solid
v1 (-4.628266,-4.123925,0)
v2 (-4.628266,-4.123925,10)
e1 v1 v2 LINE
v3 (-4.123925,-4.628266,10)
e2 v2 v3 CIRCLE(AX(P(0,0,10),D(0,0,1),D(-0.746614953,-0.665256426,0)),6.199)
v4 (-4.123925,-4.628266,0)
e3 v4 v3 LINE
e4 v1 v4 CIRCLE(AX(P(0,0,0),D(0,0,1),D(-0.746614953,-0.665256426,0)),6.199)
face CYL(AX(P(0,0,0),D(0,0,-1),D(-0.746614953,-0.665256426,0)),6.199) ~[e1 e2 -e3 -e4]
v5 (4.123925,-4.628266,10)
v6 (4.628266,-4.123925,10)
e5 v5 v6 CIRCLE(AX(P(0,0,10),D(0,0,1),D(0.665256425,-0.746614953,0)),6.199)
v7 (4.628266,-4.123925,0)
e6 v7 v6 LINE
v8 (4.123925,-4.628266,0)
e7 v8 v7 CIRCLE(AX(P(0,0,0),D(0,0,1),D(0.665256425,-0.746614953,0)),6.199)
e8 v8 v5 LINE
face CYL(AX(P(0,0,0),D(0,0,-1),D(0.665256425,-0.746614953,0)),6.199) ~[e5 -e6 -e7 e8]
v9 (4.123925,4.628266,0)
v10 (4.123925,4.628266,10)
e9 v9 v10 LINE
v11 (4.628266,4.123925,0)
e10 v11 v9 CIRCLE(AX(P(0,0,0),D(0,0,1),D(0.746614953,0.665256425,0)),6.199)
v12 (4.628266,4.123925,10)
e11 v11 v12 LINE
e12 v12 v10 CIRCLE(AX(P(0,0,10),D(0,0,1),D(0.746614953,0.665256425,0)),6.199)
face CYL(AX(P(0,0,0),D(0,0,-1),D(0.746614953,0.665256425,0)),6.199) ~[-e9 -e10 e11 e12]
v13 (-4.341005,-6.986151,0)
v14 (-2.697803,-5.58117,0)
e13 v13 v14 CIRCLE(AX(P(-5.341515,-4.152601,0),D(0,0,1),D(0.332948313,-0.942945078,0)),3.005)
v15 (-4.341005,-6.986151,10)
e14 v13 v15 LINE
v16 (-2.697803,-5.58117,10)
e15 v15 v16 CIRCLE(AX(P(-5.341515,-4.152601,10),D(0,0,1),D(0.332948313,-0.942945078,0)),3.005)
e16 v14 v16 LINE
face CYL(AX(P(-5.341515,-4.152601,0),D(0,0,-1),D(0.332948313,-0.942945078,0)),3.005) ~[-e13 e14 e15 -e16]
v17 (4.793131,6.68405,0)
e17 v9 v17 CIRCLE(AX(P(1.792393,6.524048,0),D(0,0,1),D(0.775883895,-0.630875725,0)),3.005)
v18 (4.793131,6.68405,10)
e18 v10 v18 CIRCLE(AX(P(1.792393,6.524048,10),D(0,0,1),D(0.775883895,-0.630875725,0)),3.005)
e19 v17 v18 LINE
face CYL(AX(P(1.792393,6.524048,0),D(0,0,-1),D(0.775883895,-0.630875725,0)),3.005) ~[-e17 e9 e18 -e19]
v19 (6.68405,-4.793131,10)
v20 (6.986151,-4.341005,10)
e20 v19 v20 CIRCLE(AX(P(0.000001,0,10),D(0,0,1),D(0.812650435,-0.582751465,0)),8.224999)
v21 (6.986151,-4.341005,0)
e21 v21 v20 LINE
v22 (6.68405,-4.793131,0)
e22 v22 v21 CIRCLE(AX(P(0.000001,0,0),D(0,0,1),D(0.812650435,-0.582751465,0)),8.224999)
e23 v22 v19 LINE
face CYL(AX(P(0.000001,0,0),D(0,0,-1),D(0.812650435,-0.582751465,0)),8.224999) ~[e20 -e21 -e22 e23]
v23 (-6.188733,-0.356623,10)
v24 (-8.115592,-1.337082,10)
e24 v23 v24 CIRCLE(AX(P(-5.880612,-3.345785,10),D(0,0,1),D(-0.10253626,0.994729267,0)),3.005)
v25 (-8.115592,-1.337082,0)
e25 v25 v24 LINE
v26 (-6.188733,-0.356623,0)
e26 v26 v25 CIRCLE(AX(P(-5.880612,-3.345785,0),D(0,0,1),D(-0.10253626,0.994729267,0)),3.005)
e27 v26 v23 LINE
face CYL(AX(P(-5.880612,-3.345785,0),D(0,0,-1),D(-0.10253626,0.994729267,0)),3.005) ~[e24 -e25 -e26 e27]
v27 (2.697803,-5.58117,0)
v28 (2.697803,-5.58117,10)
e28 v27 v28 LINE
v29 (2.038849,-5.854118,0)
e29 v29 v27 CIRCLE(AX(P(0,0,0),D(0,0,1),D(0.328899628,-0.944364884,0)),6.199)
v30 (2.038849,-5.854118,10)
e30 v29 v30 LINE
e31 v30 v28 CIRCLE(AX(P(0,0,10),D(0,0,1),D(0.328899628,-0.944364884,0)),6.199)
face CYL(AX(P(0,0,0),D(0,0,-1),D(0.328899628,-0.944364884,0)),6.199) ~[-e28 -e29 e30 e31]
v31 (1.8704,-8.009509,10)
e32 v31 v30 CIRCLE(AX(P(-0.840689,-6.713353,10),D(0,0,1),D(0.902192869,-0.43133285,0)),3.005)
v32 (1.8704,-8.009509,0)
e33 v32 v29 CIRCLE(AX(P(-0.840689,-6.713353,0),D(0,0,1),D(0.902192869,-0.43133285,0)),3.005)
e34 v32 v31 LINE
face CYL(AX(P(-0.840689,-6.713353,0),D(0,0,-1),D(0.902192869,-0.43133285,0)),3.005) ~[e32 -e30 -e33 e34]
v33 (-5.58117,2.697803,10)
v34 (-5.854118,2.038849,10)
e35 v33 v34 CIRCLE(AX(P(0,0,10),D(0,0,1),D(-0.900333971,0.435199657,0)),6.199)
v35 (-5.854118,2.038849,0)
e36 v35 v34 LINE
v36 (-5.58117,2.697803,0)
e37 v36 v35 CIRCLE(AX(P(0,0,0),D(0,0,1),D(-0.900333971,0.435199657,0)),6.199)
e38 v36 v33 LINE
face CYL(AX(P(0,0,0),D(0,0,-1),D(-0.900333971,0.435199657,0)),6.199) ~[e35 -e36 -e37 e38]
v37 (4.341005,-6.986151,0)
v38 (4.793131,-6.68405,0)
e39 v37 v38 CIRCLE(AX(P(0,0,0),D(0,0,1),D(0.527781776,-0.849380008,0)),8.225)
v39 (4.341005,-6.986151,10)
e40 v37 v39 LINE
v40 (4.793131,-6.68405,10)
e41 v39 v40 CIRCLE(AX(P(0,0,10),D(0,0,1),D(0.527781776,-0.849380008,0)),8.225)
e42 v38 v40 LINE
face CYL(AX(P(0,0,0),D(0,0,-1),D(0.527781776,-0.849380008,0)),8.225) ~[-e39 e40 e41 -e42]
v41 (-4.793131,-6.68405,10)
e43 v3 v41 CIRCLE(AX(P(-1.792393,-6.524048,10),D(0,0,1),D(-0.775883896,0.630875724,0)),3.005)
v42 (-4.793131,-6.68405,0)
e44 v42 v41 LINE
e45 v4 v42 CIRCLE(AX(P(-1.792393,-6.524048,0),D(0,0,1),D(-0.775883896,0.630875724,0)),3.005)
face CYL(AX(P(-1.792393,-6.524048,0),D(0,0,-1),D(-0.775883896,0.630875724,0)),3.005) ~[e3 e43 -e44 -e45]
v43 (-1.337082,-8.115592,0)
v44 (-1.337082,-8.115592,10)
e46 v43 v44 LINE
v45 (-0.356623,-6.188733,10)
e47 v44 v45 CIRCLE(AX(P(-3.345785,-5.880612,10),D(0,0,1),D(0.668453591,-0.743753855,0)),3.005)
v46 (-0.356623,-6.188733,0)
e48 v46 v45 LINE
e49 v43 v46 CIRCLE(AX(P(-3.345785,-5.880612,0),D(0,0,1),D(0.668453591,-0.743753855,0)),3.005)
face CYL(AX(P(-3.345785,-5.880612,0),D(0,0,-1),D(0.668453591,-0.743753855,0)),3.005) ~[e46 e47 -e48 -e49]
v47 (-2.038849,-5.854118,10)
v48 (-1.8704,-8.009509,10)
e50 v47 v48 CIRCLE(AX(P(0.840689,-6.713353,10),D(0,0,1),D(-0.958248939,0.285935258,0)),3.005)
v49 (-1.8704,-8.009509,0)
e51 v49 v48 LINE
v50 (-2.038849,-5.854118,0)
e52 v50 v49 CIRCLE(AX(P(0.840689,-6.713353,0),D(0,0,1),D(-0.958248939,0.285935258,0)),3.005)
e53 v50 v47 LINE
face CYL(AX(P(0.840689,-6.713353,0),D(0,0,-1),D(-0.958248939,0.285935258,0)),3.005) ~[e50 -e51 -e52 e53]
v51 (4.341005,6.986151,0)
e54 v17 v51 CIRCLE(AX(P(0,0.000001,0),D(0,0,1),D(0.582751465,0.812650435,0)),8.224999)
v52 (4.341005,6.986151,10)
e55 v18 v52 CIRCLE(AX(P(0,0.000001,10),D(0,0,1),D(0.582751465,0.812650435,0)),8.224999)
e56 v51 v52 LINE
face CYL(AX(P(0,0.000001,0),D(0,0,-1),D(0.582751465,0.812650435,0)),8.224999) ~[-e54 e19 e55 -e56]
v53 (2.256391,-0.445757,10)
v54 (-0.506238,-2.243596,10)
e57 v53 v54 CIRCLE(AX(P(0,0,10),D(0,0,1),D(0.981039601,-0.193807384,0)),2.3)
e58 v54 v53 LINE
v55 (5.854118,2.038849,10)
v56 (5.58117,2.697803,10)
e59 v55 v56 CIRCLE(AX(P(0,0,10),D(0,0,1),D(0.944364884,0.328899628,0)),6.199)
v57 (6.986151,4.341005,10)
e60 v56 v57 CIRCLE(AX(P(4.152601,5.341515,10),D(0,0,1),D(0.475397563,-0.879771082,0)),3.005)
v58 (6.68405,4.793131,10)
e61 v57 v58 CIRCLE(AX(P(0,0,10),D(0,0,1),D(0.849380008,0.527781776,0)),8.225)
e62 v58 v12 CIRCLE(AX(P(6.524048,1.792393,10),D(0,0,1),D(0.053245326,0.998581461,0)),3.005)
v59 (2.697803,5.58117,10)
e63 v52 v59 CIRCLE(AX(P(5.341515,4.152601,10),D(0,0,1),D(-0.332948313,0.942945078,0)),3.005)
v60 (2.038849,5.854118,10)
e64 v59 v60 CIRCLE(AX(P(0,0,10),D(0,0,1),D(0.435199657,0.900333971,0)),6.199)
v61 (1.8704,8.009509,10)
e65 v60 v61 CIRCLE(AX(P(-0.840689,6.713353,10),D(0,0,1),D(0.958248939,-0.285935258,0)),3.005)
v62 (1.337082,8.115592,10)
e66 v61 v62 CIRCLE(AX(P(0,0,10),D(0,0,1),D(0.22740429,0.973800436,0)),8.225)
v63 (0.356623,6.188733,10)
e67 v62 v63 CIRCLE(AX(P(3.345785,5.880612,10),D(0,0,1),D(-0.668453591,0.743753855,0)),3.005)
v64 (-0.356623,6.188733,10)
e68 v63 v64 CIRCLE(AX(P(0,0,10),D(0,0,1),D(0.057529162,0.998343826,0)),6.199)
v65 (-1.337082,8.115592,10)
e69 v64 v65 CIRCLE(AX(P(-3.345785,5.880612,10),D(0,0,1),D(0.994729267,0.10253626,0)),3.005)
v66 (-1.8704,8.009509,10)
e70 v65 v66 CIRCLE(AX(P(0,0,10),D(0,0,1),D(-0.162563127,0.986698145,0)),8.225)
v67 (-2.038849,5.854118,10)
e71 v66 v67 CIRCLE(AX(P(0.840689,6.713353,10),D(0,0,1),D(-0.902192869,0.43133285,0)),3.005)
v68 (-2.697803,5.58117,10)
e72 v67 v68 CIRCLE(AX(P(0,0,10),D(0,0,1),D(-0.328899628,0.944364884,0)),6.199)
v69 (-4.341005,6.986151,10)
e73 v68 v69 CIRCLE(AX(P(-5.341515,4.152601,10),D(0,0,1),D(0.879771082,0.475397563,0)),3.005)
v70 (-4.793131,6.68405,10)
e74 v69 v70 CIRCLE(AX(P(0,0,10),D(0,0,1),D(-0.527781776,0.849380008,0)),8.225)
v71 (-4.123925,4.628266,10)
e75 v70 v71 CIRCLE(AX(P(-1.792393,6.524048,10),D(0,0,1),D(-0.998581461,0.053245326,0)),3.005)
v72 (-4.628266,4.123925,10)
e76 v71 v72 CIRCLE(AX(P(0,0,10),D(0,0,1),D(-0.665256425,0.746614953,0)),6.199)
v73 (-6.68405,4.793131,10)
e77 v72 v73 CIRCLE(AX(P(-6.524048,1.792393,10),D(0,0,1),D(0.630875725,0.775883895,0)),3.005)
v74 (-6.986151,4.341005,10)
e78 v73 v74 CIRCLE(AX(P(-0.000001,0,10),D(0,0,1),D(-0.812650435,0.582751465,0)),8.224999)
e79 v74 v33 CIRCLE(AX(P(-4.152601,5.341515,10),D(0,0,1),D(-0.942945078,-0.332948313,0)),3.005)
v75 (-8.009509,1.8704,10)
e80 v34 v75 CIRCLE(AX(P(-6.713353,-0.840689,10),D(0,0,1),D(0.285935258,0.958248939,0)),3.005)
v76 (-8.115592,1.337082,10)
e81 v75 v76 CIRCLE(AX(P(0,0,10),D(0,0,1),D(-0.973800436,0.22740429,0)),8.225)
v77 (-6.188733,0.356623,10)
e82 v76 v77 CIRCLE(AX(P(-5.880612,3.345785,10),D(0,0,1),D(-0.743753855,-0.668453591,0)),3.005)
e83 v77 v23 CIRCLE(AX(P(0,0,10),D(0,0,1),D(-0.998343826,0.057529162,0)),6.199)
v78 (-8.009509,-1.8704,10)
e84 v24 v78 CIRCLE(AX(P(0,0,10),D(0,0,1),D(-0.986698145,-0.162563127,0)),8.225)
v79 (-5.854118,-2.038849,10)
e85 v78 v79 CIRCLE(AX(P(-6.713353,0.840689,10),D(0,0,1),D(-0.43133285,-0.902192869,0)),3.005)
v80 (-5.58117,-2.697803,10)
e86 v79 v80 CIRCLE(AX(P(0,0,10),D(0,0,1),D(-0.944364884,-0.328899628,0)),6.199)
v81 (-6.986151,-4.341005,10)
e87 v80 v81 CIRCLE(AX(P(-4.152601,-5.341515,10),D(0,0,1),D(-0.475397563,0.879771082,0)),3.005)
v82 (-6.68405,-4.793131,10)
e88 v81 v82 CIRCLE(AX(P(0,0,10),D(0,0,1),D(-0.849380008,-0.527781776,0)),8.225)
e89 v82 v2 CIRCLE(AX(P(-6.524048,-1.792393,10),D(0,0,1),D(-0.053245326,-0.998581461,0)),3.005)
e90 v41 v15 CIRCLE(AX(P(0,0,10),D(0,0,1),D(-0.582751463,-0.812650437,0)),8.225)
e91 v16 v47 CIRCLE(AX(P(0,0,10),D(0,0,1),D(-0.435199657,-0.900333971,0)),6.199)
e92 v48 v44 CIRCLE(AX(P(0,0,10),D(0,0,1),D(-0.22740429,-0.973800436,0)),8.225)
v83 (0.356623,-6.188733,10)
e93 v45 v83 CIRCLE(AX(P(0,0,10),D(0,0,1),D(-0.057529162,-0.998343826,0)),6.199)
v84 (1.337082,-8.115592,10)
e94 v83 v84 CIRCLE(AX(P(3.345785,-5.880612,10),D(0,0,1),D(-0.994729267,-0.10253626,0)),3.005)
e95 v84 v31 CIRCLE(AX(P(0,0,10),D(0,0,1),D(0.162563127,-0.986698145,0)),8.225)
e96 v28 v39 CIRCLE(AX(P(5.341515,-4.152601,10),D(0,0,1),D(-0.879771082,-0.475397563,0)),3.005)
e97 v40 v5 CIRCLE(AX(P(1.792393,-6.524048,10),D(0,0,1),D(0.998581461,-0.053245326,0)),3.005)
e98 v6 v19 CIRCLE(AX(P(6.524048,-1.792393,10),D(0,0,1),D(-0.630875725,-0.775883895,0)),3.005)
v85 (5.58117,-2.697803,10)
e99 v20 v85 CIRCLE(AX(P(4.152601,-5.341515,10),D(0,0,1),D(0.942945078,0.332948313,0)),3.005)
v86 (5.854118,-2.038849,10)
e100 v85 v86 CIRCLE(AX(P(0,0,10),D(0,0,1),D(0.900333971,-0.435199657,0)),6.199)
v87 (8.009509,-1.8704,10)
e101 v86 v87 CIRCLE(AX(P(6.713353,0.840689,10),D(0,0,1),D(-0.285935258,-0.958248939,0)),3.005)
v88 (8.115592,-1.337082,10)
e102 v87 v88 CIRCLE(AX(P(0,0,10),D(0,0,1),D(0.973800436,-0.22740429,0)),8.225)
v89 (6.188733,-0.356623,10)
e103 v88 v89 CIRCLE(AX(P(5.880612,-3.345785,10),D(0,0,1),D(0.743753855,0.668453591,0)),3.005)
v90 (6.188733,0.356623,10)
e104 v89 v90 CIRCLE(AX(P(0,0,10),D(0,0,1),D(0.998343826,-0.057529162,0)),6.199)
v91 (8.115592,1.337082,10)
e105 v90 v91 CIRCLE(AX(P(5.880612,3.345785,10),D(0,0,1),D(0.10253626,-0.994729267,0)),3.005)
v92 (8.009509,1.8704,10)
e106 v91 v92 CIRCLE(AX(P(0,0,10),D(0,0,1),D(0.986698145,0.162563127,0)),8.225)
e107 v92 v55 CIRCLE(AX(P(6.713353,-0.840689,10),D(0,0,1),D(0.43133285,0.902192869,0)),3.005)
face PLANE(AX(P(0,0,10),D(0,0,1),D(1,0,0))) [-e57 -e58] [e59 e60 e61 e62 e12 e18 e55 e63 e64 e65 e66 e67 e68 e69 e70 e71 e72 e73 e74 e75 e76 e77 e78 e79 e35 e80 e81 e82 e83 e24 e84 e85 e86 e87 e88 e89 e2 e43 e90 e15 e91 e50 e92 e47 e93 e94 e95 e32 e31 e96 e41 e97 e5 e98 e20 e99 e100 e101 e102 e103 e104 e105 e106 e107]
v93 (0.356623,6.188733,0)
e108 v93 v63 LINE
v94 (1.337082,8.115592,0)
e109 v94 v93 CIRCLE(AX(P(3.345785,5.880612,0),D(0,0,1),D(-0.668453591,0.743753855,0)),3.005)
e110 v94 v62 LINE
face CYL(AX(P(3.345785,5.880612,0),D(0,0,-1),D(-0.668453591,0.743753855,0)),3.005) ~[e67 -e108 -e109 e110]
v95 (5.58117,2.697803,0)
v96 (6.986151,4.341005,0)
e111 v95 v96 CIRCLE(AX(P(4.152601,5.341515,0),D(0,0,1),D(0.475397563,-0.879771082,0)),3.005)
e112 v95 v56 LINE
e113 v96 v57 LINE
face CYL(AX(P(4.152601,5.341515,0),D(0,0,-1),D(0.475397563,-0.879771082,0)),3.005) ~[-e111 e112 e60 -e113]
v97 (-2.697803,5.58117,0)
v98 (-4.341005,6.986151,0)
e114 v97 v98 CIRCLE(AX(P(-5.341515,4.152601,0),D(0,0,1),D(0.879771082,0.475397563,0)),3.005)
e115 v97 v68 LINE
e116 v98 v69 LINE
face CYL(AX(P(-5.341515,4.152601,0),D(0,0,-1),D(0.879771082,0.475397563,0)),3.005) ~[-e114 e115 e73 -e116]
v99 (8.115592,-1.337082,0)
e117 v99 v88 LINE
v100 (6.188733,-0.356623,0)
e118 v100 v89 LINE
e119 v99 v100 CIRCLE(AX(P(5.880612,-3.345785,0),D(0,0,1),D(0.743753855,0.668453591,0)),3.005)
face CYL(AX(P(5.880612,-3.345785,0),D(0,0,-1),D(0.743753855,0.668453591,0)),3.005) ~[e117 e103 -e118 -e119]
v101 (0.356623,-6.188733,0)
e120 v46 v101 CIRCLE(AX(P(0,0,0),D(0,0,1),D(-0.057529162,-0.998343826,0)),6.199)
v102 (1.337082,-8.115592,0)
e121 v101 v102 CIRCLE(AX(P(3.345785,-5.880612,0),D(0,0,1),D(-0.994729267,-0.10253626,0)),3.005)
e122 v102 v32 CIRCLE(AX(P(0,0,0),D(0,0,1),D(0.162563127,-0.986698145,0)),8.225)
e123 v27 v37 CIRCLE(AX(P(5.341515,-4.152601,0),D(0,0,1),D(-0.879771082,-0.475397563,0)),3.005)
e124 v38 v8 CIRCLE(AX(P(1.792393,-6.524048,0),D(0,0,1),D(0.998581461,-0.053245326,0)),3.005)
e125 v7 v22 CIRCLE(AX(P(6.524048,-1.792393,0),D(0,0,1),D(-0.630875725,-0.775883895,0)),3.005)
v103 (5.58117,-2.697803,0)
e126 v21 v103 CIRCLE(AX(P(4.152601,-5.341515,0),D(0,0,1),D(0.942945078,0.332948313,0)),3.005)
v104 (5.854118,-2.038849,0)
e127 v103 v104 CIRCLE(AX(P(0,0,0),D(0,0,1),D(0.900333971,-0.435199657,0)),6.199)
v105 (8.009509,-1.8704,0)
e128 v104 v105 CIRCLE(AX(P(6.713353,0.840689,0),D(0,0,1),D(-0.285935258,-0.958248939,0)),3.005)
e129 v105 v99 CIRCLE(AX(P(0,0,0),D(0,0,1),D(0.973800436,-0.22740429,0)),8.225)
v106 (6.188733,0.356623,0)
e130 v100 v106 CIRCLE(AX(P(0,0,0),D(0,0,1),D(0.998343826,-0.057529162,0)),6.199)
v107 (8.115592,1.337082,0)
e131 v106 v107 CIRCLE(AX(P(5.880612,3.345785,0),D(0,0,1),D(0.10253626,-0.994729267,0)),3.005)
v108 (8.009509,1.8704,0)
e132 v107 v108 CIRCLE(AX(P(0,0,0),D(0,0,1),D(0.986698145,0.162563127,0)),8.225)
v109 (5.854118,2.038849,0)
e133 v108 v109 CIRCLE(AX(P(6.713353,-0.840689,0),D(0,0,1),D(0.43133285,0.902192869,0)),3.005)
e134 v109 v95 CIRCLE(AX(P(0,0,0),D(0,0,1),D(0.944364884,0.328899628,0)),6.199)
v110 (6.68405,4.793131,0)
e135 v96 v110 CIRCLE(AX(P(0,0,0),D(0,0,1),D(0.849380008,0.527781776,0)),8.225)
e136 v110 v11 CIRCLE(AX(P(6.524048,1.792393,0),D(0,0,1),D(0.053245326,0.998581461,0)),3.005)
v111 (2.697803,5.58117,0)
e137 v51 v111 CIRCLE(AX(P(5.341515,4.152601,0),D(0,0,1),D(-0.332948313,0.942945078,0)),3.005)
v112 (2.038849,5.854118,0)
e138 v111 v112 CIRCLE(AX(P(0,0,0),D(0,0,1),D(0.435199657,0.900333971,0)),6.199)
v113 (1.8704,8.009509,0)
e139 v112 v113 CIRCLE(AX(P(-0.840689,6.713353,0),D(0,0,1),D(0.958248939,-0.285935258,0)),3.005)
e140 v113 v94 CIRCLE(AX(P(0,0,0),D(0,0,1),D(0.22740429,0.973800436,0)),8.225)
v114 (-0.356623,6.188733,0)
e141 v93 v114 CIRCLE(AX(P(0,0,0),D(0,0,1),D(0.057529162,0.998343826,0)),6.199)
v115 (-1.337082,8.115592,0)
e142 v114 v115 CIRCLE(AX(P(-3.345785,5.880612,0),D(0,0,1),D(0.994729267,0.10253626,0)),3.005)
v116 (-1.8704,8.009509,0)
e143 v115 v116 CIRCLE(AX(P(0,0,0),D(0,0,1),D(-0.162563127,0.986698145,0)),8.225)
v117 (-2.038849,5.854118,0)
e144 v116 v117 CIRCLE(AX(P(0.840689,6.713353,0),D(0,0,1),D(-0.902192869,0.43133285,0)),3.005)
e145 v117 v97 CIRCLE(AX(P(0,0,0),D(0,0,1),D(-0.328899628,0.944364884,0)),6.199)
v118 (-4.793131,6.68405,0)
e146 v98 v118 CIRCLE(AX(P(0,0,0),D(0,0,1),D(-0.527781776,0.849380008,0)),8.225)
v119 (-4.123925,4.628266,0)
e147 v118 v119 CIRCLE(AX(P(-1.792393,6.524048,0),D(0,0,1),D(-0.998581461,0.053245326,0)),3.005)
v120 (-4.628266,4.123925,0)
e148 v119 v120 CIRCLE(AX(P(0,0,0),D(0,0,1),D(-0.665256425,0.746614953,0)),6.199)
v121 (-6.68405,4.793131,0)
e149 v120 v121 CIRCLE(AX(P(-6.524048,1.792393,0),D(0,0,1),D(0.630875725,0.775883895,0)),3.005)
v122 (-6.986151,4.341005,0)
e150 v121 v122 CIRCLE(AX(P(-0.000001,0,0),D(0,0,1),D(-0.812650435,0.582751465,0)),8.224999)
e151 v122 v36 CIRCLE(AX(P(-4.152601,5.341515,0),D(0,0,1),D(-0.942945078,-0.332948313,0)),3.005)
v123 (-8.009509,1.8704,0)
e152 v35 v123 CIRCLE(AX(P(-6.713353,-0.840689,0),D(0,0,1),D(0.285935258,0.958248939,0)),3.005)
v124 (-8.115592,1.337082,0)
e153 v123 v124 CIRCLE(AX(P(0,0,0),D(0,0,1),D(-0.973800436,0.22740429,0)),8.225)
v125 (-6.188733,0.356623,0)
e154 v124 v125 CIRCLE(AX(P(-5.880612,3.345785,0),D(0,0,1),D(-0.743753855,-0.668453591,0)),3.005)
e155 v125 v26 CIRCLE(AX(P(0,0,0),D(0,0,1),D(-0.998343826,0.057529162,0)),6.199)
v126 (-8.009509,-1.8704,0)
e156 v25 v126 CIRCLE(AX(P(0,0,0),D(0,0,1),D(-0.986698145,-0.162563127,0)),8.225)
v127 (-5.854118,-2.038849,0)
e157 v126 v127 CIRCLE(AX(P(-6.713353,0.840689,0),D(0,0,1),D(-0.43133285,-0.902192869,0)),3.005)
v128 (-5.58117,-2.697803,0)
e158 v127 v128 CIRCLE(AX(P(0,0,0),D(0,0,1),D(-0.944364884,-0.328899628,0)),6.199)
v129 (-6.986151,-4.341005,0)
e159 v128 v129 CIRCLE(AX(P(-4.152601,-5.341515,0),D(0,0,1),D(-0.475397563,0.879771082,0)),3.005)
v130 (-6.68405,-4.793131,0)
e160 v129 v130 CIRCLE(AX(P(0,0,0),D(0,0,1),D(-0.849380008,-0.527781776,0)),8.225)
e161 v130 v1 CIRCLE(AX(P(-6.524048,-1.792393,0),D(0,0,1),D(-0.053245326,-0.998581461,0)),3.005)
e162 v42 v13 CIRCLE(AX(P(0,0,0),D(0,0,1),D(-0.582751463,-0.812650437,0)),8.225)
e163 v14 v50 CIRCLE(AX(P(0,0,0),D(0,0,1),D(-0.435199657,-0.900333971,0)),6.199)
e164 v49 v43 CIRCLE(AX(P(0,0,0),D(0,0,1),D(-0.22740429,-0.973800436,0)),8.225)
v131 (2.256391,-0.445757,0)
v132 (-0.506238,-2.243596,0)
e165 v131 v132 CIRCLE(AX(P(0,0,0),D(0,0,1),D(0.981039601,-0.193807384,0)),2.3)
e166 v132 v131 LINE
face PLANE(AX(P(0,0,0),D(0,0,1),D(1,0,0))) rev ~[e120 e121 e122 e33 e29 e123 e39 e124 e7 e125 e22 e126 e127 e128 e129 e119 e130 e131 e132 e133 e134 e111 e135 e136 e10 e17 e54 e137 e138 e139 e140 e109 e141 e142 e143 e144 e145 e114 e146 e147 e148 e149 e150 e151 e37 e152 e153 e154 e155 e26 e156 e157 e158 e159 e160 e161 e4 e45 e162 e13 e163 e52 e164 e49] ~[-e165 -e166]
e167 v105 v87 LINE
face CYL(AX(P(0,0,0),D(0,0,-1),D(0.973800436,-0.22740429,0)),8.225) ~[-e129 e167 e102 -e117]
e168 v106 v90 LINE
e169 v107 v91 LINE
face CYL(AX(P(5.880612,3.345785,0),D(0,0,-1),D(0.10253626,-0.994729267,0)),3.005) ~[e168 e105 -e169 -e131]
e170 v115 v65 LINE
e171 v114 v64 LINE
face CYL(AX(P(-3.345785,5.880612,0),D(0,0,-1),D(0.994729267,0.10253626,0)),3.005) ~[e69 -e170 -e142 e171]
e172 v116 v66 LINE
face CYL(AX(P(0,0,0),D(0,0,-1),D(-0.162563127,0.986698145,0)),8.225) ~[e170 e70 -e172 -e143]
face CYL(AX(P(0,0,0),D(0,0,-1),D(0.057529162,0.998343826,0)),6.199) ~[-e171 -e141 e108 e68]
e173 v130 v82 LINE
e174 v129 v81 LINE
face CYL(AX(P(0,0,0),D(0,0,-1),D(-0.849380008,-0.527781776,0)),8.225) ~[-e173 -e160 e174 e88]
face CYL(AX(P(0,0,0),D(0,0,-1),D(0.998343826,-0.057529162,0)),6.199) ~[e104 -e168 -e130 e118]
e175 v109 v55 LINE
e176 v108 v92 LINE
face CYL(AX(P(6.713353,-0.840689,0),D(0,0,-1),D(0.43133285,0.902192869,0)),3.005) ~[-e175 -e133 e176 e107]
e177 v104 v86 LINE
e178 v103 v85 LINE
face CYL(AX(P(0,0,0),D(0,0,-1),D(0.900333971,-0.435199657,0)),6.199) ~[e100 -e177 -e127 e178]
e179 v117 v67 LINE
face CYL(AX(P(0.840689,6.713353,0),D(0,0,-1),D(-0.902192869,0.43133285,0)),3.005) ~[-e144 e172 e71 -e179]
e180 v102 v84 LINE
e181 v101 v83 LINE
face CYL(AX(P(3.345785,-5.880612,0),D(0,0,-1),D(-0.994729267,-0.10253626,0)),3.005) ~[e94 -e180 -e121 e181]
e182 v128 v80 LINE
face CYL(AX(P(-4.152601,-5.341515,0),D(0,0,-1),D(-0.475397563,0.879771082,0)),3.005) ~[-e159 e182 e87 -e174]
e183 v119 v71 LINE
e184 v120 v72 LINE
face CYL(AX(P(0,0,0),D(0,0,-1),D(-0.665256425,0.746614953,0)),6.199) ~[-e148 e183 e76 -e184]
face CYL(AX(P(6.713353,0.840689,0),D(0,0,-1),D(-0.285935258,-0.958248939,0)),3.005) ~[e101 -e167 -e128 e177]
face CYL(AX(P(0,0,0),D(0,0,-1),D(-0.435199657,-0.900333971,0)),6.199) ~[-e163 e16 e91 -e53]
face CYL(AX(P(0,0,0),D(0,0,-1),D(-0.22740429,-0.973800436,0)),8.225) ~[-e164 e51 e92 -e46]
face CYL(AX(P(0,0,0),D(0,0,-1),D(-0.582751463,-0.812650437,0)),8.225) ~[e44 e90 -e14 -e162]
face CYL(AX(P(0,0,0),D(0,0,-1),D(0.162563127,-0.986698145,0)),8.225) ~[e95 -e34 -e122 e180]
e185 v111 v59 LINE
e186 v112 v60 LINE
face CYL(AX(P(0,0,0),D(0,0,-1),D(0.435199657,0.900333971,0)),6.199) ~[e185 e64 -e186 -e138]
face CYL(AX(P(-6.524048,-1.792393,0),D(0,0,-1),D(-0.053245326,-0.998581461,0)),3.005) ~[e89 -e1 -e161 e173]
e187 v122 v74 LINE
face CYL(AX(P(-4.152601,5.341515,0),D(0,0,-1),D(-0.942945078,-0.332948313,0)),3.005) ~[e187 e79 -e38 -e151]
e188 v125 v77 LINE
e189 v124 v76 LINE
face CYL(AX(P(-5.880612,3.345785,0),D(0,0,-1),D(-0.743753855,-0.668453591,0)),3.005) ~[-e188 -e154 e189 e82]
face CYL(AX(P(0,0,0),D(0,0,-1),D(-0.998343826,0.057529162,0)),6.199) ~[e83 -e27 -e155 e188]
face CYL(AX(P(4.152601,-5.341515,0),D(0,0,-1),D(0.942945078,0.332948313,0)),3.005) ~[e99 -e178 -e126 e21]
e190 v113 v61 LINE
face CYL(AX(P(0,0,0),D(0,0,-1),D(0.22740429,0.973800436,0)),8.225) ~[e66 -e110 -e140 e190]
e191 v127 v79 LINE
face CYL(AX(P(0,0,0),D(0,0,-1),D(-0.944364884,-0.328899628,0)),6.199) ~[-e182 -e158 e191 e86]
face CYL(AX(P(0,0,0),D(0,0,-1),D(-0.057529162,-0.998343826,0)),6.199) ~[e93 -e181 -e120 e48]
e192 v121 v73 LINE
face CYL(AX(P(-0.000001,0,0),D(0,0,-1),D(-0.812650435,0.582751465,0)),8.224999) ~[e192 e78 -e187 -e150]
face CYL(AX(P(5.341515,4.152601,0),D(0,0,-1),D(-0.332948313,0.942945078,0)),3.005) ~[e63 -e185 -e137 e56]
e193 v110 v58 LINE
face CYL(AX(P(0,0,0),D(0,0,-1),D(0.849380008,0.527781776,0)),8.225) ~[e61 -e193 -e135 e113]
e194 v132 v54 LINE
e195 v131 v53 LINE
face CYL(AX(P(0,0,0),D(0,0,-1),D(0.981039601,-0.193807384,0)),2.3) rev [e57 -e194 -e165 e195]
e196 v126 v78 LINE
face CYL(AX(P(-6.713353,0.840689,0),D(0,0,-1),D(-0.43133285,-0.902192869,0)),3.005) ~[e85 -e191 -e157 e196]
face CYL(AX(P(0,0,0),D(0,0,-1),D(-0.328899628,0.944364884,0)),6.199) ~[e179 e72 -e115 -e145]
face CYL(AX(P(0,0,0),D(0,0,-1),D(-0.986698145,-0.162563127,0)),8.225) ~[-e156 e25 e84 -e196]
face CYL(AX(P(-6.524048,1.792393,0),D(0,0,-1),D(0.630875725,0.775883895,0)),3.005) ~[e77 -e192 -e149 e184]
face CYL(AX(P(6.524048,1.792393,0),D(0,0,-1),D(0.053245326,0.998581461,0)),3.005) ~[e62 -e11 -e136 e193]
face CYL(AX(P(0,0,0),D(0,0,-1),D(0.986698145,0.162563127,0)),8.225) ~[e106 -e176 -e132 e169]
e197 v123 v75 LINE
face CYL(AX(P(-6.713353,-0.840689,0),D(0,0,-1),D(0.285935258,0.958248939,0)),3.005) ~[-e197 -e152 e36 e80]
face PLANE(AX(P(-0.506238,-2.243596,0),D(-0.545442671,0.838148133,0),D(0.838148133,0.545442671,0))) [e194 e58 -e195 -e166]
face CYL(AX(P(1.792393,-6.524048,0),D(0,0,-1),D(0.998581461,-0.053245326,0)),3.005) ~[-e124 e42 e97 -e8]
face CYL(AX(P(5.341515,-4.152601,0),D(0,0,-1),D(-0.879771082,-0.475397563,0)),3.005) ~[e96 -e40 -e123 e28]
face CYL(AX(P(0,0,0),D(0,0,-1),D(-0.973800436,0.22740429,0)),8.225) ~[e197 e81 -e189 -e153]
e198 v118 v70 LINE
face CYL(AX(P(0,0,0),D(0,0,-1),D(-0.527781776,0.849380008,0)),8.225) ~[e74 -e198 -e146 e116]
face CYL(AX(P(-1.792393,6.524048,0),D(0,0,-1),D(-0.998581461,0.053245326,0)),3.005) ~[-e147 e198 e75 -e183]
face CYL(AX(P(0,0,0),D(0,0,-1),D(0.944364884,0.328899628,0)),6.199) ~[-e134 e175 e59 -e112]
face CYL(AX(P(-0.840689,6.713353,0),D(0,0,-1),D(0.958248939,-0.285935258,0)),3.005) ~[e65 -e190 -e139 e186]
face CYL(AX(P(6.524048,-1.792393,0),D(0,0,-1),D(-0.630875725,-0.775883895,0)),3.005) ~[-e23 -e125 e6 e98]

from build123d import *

# Parameters (mm, degrees)
BOSS_EXTRUDE1_DEPTH = 10


with BuildPart() as part:
    # Model → Boss-Extrude1 (new body)
    with BuildSketch(Plane.XY):
        with BuildLine():
            ThreePointArc((-8.115592249, 1.337081693), (-7.243390826, 0.66756543), (-6.188733379, 0.356623286))
            ThreePointArc((-6.188733379, 0.356623286), (-6.199, 0), (-6.188733379, -0.356623286))
            ThreePointArc((-6.188733379, -0.356623286), (-7.243390826, -0.66756543), (-8.115592249, -1.337081693))
            ThreePointArc((-8.115592249, -1.337081693), (-8.066958931, -1.604617899), (-8.009508584, -1.870400288))
            ThreePointArc((-8.009508584, -1.870400288), (-6.94748676, -2.155175626), (-5.854117924, -2.038848777))
            ThreePointArc((-5.854117924, -2.038848777), (-5.727129222, -2.372254597), (-5.581170278, -2.697802686))
            ThreePointArc((-5.581170278, -2.697802686), (-6.4365543, -3.388675701), (-6.986150561, -4.341005107))
            ThreePointArc((-6.986150561, -4.341005107), (-6.838837561, -4.569565167), (-6.684049844, -4.793130781))
            ThreePointArc((-6.684049844, -4.793130781), (-5.593890814, -4.649810729), (-4.628266083, -4.123924595))
            ThreePointArc((-4.628266083, -4.123924595), (-4.383354937, -4.383354937), (-4.123924596, -4.628266083))
            ThreePointArc((-4.123924596, -4.628266083), (-4.649810729, -5.593890814), (-4.793130781, -6.684049844))
            ThreePointArc((-4.793130781, -6.684049844), (-4.569565167, -6.838837561), (-4.341005107, -6.986150561))
            ThreePointArc((-4.341005107, -6.986150561), (-3.388675701, -6.4365543), (-2.697802686, -5.581170278))
            ThreePointArc((-2.697802686, -5.581170278), (-2.372254597, -5.727129222), (-2.038848777, -5.854117924))
            ThreePointArc((-2.038848777, -5.854117924), (-2.155175626, -6.94748676), (-1.870400288, -8.009508584))
            ThreePointArc((-1.870400288, -8.009508584), (-1.604617899, -8.066958931), (-1.337081693, -8.115592249))
            ThreePointArc((-1.337081693, -8.115592249), (-0.66756543, -7.243390826), (-0.356623286, -6.188733379))
            ThreePointArc((-0.356623286, -6.188733379), (0, -6.199), (0.356623286, -6.188733379))
            ThreePointArc((0.356623286, -6.188733379), (0.66756543, -7.243390826), (1.337081693, -8.115592249))
            ThreePointArc((1.337081693, -8.115592249), (1.604617899, -8.066958931), (1.870400288, -8.009508584))
            ThreePointArc((1.870400288, -8.009508584), (2.155175626, -6.94748676), (2.038848777, -5.854117924))
            ThreePointArc((2.038848777, -5.854117924), (2.372254597, -5.727129222), (2.697802686, -5.581170278))
            ThreePointArc((2.697802686, -5.581170278), (3.388675701, -6.4365543), (4.341005107, -6.986150561))
            ThreePointArc((4.341005107, -6.986150561), (4.569565167, -6.838837561), (4.793130781, -6.684049844))
            ThreePointArc((4.793130781, -6.684049844), (4.649810729, -5.593890814), (4.123924595, -4.628266083))
            ThreePointArc((4.123924595, -4.628266083), (4.383354937, -4.383354937), (4.628266083, -4.123924595))
            ThreePointArc((4.628266083, -4.123924595), (5.593890814, -4.649810729), (6.684049844, -4.79313078))
            ThreePointArc((6.684049844, -4.79313078), (6.838837561, -4.569565167), (6.986150561, -4.341005107))
            ThreePointArc((6.986150561, -4.341005107), (6.4365543, -3.388675701), (5.581170278, -2.697802686))
            ThreePointArc((5.581170278, -2.697802686), (5.727129222, -2.372254597), (5.854117924, -2.038848777))
            ThreePointArc((5.854117924, -2.038848777), (6.94748676, -2.155175626), (8.009508584, -1.870400288))
            ThreePointArc((8.009508584, -1.870400288), (8.066958931, -1.604617899), (8.115592249, -1.337081693))
            ThreePointArc((8.115592249, -1.337081693), (7.243390826, -0.66756543), (6.188733379, -0.356623286))
            ThreePointArc((6.188733379, -0.356623286), (6.199, 0), (6.188733379, 0.356623286))
            ThreePointArc((6.188733379, 0.356623286), (7.243390826, 0.66756543), (8.115592249, 1.337081693))
            ThreePointArc((8.115592249, 1.337081693), (8.066958931, 1.604617899), (8.009508584, 1.870400288))
            ThreePointArc((8.009508584, 1.870400288), (6.94748676, 2.155175626), (5.854117924, 2.038848777))
            ThreePointArc((5.854117924, 2.038848777), (5.727129222, 2.372254597), (5.581170278, 2.697802686))
            ThreePointArc((5.581170278, 2.697802686), (6.4365543, 3.388675701), (6.986150561, 4.341005107))
            ThreePointArc((6.986150561, 4.341005107), (6.838837561, 4.569565167), (6.684049844, 4.793130781))
            ThreePointArc((6.684049844, 4.793130781), (5.593890814, 4.649810729), (4.628266083, 4.123924595))
            ThreePointArc((4.628266083, 4.123924595), (4.383354937, 4.383354937), (4.123924595, 4.628266083))
            ThreePointArc((4.123924595, 4.628266083), (4.649810729, 5.593890814), (4.79313078, 6.684049844))
            ThreePointArc((4.79313078, 6.684049844), (4.569565167, 6.838837561), (4.341005107, 6.986150561))
            ThreePointArc((4.341005107, 6.986150561), (3.388675701, 6.4365543), (2.697802686, 5.581170278))
            ThreePointArc((2.697802686, 5.581170278), (2.372254597, 5.727129222), (2.038848777, 5.854117924))
            ThreePointArc((2.038848777, 5.854117924), (2.155175626, 6.94748676), (1.870400288, 8.009508584))
            ThreePointArc((1.870400288, 8.009508584), (1.604617899, 8.066958931), (1.337081693, 8.115592249))
            ThreePointArc((1.337081693, 8.115592249), (0.66756543, 7.243390826), (0.356623286, 6.188733379))
            ThreePointArc((0.356623286, 6.188733379), (0, 6.199), (-0.356623286, 6.188733379))
            ThreePointArc((-0.356623286, 6.188733379), (-0.66756543, 7.243390826), (-1.337081693, 8.115592249))
            ThreePointArc((-1.337081693, 8.115592249), (-1.604617899, 8.066958931), (-1.870400288, 8.009508584))
            ThreePointArc((-1.870400288, 8.009508584), (-2.155175626, 6.94748676), (-2.038848777, 5.854117924))
            ThreePointArc((-2.038848777, 5.854117924), (-2.372254597, 5.727129222), (-2.697802686, 5.581170278))
            ThreePointArc((-2.697802686, 5.581170278), (-3.388675701, 6.4365543), (-4.341005107, 6.986150561))
            ThreePointArc((-4.341005107, 6.986150561), (-4.569565167, 6.838837561), (-4.793130781, 6.684049844))
            ThreePointArc((-4.793130781, 6.684049844), (-4.649810729, 5.593890814), (-4.123924595, 4.628266083))
            ThreePointArc((-4.123924595, 4.628266083), (-4.383354937, 4.383354937), (-4.628266083, 4.123924595))
            ThreePointArc((-4.628266083, 4.123924595), (-5.593890814, 4.649810729), (-6.684049844, 4.79313078))
            ThreePointArc((-6.684049844, 4.79313078), (-6.838837561, 4.569565167), (-6.986150561, 4.341005107))
            ThreePointArc((-6.986150561, 4.341005107), (-6.4365543, 3.388675701), (-5.581170278, 2.697802686))
            ThreePointArc((-5.581170278, 2.697802686), (-5.727129222, 2.372254597), (-5.854117924, 2.038848777))
            ThreePointArc((-5.854117924, 2.038848777), (-6.94748676, 2.155175626), (-8.009508584, 1.870400288))
            ThreePointArc((-8.009508584, 1.870400288), (-8.066958931, 1.604617899), (-8.115592249, 1.337081693))
        make_face()
        with BuildLine():
            Line((-0.506237517, -2.243596126), (2.256391081, -0.445756983))
            ThreePointArc((2.256391081, -0.445756983), (-1.254518143, 1.927740706), (-0.506237517, -2.243596126))
        make_face(mode=Mode.SUBTRACT)
    extrude(amount=BOSS_EXTRUDE1_DEPTH)


solid = part.part
